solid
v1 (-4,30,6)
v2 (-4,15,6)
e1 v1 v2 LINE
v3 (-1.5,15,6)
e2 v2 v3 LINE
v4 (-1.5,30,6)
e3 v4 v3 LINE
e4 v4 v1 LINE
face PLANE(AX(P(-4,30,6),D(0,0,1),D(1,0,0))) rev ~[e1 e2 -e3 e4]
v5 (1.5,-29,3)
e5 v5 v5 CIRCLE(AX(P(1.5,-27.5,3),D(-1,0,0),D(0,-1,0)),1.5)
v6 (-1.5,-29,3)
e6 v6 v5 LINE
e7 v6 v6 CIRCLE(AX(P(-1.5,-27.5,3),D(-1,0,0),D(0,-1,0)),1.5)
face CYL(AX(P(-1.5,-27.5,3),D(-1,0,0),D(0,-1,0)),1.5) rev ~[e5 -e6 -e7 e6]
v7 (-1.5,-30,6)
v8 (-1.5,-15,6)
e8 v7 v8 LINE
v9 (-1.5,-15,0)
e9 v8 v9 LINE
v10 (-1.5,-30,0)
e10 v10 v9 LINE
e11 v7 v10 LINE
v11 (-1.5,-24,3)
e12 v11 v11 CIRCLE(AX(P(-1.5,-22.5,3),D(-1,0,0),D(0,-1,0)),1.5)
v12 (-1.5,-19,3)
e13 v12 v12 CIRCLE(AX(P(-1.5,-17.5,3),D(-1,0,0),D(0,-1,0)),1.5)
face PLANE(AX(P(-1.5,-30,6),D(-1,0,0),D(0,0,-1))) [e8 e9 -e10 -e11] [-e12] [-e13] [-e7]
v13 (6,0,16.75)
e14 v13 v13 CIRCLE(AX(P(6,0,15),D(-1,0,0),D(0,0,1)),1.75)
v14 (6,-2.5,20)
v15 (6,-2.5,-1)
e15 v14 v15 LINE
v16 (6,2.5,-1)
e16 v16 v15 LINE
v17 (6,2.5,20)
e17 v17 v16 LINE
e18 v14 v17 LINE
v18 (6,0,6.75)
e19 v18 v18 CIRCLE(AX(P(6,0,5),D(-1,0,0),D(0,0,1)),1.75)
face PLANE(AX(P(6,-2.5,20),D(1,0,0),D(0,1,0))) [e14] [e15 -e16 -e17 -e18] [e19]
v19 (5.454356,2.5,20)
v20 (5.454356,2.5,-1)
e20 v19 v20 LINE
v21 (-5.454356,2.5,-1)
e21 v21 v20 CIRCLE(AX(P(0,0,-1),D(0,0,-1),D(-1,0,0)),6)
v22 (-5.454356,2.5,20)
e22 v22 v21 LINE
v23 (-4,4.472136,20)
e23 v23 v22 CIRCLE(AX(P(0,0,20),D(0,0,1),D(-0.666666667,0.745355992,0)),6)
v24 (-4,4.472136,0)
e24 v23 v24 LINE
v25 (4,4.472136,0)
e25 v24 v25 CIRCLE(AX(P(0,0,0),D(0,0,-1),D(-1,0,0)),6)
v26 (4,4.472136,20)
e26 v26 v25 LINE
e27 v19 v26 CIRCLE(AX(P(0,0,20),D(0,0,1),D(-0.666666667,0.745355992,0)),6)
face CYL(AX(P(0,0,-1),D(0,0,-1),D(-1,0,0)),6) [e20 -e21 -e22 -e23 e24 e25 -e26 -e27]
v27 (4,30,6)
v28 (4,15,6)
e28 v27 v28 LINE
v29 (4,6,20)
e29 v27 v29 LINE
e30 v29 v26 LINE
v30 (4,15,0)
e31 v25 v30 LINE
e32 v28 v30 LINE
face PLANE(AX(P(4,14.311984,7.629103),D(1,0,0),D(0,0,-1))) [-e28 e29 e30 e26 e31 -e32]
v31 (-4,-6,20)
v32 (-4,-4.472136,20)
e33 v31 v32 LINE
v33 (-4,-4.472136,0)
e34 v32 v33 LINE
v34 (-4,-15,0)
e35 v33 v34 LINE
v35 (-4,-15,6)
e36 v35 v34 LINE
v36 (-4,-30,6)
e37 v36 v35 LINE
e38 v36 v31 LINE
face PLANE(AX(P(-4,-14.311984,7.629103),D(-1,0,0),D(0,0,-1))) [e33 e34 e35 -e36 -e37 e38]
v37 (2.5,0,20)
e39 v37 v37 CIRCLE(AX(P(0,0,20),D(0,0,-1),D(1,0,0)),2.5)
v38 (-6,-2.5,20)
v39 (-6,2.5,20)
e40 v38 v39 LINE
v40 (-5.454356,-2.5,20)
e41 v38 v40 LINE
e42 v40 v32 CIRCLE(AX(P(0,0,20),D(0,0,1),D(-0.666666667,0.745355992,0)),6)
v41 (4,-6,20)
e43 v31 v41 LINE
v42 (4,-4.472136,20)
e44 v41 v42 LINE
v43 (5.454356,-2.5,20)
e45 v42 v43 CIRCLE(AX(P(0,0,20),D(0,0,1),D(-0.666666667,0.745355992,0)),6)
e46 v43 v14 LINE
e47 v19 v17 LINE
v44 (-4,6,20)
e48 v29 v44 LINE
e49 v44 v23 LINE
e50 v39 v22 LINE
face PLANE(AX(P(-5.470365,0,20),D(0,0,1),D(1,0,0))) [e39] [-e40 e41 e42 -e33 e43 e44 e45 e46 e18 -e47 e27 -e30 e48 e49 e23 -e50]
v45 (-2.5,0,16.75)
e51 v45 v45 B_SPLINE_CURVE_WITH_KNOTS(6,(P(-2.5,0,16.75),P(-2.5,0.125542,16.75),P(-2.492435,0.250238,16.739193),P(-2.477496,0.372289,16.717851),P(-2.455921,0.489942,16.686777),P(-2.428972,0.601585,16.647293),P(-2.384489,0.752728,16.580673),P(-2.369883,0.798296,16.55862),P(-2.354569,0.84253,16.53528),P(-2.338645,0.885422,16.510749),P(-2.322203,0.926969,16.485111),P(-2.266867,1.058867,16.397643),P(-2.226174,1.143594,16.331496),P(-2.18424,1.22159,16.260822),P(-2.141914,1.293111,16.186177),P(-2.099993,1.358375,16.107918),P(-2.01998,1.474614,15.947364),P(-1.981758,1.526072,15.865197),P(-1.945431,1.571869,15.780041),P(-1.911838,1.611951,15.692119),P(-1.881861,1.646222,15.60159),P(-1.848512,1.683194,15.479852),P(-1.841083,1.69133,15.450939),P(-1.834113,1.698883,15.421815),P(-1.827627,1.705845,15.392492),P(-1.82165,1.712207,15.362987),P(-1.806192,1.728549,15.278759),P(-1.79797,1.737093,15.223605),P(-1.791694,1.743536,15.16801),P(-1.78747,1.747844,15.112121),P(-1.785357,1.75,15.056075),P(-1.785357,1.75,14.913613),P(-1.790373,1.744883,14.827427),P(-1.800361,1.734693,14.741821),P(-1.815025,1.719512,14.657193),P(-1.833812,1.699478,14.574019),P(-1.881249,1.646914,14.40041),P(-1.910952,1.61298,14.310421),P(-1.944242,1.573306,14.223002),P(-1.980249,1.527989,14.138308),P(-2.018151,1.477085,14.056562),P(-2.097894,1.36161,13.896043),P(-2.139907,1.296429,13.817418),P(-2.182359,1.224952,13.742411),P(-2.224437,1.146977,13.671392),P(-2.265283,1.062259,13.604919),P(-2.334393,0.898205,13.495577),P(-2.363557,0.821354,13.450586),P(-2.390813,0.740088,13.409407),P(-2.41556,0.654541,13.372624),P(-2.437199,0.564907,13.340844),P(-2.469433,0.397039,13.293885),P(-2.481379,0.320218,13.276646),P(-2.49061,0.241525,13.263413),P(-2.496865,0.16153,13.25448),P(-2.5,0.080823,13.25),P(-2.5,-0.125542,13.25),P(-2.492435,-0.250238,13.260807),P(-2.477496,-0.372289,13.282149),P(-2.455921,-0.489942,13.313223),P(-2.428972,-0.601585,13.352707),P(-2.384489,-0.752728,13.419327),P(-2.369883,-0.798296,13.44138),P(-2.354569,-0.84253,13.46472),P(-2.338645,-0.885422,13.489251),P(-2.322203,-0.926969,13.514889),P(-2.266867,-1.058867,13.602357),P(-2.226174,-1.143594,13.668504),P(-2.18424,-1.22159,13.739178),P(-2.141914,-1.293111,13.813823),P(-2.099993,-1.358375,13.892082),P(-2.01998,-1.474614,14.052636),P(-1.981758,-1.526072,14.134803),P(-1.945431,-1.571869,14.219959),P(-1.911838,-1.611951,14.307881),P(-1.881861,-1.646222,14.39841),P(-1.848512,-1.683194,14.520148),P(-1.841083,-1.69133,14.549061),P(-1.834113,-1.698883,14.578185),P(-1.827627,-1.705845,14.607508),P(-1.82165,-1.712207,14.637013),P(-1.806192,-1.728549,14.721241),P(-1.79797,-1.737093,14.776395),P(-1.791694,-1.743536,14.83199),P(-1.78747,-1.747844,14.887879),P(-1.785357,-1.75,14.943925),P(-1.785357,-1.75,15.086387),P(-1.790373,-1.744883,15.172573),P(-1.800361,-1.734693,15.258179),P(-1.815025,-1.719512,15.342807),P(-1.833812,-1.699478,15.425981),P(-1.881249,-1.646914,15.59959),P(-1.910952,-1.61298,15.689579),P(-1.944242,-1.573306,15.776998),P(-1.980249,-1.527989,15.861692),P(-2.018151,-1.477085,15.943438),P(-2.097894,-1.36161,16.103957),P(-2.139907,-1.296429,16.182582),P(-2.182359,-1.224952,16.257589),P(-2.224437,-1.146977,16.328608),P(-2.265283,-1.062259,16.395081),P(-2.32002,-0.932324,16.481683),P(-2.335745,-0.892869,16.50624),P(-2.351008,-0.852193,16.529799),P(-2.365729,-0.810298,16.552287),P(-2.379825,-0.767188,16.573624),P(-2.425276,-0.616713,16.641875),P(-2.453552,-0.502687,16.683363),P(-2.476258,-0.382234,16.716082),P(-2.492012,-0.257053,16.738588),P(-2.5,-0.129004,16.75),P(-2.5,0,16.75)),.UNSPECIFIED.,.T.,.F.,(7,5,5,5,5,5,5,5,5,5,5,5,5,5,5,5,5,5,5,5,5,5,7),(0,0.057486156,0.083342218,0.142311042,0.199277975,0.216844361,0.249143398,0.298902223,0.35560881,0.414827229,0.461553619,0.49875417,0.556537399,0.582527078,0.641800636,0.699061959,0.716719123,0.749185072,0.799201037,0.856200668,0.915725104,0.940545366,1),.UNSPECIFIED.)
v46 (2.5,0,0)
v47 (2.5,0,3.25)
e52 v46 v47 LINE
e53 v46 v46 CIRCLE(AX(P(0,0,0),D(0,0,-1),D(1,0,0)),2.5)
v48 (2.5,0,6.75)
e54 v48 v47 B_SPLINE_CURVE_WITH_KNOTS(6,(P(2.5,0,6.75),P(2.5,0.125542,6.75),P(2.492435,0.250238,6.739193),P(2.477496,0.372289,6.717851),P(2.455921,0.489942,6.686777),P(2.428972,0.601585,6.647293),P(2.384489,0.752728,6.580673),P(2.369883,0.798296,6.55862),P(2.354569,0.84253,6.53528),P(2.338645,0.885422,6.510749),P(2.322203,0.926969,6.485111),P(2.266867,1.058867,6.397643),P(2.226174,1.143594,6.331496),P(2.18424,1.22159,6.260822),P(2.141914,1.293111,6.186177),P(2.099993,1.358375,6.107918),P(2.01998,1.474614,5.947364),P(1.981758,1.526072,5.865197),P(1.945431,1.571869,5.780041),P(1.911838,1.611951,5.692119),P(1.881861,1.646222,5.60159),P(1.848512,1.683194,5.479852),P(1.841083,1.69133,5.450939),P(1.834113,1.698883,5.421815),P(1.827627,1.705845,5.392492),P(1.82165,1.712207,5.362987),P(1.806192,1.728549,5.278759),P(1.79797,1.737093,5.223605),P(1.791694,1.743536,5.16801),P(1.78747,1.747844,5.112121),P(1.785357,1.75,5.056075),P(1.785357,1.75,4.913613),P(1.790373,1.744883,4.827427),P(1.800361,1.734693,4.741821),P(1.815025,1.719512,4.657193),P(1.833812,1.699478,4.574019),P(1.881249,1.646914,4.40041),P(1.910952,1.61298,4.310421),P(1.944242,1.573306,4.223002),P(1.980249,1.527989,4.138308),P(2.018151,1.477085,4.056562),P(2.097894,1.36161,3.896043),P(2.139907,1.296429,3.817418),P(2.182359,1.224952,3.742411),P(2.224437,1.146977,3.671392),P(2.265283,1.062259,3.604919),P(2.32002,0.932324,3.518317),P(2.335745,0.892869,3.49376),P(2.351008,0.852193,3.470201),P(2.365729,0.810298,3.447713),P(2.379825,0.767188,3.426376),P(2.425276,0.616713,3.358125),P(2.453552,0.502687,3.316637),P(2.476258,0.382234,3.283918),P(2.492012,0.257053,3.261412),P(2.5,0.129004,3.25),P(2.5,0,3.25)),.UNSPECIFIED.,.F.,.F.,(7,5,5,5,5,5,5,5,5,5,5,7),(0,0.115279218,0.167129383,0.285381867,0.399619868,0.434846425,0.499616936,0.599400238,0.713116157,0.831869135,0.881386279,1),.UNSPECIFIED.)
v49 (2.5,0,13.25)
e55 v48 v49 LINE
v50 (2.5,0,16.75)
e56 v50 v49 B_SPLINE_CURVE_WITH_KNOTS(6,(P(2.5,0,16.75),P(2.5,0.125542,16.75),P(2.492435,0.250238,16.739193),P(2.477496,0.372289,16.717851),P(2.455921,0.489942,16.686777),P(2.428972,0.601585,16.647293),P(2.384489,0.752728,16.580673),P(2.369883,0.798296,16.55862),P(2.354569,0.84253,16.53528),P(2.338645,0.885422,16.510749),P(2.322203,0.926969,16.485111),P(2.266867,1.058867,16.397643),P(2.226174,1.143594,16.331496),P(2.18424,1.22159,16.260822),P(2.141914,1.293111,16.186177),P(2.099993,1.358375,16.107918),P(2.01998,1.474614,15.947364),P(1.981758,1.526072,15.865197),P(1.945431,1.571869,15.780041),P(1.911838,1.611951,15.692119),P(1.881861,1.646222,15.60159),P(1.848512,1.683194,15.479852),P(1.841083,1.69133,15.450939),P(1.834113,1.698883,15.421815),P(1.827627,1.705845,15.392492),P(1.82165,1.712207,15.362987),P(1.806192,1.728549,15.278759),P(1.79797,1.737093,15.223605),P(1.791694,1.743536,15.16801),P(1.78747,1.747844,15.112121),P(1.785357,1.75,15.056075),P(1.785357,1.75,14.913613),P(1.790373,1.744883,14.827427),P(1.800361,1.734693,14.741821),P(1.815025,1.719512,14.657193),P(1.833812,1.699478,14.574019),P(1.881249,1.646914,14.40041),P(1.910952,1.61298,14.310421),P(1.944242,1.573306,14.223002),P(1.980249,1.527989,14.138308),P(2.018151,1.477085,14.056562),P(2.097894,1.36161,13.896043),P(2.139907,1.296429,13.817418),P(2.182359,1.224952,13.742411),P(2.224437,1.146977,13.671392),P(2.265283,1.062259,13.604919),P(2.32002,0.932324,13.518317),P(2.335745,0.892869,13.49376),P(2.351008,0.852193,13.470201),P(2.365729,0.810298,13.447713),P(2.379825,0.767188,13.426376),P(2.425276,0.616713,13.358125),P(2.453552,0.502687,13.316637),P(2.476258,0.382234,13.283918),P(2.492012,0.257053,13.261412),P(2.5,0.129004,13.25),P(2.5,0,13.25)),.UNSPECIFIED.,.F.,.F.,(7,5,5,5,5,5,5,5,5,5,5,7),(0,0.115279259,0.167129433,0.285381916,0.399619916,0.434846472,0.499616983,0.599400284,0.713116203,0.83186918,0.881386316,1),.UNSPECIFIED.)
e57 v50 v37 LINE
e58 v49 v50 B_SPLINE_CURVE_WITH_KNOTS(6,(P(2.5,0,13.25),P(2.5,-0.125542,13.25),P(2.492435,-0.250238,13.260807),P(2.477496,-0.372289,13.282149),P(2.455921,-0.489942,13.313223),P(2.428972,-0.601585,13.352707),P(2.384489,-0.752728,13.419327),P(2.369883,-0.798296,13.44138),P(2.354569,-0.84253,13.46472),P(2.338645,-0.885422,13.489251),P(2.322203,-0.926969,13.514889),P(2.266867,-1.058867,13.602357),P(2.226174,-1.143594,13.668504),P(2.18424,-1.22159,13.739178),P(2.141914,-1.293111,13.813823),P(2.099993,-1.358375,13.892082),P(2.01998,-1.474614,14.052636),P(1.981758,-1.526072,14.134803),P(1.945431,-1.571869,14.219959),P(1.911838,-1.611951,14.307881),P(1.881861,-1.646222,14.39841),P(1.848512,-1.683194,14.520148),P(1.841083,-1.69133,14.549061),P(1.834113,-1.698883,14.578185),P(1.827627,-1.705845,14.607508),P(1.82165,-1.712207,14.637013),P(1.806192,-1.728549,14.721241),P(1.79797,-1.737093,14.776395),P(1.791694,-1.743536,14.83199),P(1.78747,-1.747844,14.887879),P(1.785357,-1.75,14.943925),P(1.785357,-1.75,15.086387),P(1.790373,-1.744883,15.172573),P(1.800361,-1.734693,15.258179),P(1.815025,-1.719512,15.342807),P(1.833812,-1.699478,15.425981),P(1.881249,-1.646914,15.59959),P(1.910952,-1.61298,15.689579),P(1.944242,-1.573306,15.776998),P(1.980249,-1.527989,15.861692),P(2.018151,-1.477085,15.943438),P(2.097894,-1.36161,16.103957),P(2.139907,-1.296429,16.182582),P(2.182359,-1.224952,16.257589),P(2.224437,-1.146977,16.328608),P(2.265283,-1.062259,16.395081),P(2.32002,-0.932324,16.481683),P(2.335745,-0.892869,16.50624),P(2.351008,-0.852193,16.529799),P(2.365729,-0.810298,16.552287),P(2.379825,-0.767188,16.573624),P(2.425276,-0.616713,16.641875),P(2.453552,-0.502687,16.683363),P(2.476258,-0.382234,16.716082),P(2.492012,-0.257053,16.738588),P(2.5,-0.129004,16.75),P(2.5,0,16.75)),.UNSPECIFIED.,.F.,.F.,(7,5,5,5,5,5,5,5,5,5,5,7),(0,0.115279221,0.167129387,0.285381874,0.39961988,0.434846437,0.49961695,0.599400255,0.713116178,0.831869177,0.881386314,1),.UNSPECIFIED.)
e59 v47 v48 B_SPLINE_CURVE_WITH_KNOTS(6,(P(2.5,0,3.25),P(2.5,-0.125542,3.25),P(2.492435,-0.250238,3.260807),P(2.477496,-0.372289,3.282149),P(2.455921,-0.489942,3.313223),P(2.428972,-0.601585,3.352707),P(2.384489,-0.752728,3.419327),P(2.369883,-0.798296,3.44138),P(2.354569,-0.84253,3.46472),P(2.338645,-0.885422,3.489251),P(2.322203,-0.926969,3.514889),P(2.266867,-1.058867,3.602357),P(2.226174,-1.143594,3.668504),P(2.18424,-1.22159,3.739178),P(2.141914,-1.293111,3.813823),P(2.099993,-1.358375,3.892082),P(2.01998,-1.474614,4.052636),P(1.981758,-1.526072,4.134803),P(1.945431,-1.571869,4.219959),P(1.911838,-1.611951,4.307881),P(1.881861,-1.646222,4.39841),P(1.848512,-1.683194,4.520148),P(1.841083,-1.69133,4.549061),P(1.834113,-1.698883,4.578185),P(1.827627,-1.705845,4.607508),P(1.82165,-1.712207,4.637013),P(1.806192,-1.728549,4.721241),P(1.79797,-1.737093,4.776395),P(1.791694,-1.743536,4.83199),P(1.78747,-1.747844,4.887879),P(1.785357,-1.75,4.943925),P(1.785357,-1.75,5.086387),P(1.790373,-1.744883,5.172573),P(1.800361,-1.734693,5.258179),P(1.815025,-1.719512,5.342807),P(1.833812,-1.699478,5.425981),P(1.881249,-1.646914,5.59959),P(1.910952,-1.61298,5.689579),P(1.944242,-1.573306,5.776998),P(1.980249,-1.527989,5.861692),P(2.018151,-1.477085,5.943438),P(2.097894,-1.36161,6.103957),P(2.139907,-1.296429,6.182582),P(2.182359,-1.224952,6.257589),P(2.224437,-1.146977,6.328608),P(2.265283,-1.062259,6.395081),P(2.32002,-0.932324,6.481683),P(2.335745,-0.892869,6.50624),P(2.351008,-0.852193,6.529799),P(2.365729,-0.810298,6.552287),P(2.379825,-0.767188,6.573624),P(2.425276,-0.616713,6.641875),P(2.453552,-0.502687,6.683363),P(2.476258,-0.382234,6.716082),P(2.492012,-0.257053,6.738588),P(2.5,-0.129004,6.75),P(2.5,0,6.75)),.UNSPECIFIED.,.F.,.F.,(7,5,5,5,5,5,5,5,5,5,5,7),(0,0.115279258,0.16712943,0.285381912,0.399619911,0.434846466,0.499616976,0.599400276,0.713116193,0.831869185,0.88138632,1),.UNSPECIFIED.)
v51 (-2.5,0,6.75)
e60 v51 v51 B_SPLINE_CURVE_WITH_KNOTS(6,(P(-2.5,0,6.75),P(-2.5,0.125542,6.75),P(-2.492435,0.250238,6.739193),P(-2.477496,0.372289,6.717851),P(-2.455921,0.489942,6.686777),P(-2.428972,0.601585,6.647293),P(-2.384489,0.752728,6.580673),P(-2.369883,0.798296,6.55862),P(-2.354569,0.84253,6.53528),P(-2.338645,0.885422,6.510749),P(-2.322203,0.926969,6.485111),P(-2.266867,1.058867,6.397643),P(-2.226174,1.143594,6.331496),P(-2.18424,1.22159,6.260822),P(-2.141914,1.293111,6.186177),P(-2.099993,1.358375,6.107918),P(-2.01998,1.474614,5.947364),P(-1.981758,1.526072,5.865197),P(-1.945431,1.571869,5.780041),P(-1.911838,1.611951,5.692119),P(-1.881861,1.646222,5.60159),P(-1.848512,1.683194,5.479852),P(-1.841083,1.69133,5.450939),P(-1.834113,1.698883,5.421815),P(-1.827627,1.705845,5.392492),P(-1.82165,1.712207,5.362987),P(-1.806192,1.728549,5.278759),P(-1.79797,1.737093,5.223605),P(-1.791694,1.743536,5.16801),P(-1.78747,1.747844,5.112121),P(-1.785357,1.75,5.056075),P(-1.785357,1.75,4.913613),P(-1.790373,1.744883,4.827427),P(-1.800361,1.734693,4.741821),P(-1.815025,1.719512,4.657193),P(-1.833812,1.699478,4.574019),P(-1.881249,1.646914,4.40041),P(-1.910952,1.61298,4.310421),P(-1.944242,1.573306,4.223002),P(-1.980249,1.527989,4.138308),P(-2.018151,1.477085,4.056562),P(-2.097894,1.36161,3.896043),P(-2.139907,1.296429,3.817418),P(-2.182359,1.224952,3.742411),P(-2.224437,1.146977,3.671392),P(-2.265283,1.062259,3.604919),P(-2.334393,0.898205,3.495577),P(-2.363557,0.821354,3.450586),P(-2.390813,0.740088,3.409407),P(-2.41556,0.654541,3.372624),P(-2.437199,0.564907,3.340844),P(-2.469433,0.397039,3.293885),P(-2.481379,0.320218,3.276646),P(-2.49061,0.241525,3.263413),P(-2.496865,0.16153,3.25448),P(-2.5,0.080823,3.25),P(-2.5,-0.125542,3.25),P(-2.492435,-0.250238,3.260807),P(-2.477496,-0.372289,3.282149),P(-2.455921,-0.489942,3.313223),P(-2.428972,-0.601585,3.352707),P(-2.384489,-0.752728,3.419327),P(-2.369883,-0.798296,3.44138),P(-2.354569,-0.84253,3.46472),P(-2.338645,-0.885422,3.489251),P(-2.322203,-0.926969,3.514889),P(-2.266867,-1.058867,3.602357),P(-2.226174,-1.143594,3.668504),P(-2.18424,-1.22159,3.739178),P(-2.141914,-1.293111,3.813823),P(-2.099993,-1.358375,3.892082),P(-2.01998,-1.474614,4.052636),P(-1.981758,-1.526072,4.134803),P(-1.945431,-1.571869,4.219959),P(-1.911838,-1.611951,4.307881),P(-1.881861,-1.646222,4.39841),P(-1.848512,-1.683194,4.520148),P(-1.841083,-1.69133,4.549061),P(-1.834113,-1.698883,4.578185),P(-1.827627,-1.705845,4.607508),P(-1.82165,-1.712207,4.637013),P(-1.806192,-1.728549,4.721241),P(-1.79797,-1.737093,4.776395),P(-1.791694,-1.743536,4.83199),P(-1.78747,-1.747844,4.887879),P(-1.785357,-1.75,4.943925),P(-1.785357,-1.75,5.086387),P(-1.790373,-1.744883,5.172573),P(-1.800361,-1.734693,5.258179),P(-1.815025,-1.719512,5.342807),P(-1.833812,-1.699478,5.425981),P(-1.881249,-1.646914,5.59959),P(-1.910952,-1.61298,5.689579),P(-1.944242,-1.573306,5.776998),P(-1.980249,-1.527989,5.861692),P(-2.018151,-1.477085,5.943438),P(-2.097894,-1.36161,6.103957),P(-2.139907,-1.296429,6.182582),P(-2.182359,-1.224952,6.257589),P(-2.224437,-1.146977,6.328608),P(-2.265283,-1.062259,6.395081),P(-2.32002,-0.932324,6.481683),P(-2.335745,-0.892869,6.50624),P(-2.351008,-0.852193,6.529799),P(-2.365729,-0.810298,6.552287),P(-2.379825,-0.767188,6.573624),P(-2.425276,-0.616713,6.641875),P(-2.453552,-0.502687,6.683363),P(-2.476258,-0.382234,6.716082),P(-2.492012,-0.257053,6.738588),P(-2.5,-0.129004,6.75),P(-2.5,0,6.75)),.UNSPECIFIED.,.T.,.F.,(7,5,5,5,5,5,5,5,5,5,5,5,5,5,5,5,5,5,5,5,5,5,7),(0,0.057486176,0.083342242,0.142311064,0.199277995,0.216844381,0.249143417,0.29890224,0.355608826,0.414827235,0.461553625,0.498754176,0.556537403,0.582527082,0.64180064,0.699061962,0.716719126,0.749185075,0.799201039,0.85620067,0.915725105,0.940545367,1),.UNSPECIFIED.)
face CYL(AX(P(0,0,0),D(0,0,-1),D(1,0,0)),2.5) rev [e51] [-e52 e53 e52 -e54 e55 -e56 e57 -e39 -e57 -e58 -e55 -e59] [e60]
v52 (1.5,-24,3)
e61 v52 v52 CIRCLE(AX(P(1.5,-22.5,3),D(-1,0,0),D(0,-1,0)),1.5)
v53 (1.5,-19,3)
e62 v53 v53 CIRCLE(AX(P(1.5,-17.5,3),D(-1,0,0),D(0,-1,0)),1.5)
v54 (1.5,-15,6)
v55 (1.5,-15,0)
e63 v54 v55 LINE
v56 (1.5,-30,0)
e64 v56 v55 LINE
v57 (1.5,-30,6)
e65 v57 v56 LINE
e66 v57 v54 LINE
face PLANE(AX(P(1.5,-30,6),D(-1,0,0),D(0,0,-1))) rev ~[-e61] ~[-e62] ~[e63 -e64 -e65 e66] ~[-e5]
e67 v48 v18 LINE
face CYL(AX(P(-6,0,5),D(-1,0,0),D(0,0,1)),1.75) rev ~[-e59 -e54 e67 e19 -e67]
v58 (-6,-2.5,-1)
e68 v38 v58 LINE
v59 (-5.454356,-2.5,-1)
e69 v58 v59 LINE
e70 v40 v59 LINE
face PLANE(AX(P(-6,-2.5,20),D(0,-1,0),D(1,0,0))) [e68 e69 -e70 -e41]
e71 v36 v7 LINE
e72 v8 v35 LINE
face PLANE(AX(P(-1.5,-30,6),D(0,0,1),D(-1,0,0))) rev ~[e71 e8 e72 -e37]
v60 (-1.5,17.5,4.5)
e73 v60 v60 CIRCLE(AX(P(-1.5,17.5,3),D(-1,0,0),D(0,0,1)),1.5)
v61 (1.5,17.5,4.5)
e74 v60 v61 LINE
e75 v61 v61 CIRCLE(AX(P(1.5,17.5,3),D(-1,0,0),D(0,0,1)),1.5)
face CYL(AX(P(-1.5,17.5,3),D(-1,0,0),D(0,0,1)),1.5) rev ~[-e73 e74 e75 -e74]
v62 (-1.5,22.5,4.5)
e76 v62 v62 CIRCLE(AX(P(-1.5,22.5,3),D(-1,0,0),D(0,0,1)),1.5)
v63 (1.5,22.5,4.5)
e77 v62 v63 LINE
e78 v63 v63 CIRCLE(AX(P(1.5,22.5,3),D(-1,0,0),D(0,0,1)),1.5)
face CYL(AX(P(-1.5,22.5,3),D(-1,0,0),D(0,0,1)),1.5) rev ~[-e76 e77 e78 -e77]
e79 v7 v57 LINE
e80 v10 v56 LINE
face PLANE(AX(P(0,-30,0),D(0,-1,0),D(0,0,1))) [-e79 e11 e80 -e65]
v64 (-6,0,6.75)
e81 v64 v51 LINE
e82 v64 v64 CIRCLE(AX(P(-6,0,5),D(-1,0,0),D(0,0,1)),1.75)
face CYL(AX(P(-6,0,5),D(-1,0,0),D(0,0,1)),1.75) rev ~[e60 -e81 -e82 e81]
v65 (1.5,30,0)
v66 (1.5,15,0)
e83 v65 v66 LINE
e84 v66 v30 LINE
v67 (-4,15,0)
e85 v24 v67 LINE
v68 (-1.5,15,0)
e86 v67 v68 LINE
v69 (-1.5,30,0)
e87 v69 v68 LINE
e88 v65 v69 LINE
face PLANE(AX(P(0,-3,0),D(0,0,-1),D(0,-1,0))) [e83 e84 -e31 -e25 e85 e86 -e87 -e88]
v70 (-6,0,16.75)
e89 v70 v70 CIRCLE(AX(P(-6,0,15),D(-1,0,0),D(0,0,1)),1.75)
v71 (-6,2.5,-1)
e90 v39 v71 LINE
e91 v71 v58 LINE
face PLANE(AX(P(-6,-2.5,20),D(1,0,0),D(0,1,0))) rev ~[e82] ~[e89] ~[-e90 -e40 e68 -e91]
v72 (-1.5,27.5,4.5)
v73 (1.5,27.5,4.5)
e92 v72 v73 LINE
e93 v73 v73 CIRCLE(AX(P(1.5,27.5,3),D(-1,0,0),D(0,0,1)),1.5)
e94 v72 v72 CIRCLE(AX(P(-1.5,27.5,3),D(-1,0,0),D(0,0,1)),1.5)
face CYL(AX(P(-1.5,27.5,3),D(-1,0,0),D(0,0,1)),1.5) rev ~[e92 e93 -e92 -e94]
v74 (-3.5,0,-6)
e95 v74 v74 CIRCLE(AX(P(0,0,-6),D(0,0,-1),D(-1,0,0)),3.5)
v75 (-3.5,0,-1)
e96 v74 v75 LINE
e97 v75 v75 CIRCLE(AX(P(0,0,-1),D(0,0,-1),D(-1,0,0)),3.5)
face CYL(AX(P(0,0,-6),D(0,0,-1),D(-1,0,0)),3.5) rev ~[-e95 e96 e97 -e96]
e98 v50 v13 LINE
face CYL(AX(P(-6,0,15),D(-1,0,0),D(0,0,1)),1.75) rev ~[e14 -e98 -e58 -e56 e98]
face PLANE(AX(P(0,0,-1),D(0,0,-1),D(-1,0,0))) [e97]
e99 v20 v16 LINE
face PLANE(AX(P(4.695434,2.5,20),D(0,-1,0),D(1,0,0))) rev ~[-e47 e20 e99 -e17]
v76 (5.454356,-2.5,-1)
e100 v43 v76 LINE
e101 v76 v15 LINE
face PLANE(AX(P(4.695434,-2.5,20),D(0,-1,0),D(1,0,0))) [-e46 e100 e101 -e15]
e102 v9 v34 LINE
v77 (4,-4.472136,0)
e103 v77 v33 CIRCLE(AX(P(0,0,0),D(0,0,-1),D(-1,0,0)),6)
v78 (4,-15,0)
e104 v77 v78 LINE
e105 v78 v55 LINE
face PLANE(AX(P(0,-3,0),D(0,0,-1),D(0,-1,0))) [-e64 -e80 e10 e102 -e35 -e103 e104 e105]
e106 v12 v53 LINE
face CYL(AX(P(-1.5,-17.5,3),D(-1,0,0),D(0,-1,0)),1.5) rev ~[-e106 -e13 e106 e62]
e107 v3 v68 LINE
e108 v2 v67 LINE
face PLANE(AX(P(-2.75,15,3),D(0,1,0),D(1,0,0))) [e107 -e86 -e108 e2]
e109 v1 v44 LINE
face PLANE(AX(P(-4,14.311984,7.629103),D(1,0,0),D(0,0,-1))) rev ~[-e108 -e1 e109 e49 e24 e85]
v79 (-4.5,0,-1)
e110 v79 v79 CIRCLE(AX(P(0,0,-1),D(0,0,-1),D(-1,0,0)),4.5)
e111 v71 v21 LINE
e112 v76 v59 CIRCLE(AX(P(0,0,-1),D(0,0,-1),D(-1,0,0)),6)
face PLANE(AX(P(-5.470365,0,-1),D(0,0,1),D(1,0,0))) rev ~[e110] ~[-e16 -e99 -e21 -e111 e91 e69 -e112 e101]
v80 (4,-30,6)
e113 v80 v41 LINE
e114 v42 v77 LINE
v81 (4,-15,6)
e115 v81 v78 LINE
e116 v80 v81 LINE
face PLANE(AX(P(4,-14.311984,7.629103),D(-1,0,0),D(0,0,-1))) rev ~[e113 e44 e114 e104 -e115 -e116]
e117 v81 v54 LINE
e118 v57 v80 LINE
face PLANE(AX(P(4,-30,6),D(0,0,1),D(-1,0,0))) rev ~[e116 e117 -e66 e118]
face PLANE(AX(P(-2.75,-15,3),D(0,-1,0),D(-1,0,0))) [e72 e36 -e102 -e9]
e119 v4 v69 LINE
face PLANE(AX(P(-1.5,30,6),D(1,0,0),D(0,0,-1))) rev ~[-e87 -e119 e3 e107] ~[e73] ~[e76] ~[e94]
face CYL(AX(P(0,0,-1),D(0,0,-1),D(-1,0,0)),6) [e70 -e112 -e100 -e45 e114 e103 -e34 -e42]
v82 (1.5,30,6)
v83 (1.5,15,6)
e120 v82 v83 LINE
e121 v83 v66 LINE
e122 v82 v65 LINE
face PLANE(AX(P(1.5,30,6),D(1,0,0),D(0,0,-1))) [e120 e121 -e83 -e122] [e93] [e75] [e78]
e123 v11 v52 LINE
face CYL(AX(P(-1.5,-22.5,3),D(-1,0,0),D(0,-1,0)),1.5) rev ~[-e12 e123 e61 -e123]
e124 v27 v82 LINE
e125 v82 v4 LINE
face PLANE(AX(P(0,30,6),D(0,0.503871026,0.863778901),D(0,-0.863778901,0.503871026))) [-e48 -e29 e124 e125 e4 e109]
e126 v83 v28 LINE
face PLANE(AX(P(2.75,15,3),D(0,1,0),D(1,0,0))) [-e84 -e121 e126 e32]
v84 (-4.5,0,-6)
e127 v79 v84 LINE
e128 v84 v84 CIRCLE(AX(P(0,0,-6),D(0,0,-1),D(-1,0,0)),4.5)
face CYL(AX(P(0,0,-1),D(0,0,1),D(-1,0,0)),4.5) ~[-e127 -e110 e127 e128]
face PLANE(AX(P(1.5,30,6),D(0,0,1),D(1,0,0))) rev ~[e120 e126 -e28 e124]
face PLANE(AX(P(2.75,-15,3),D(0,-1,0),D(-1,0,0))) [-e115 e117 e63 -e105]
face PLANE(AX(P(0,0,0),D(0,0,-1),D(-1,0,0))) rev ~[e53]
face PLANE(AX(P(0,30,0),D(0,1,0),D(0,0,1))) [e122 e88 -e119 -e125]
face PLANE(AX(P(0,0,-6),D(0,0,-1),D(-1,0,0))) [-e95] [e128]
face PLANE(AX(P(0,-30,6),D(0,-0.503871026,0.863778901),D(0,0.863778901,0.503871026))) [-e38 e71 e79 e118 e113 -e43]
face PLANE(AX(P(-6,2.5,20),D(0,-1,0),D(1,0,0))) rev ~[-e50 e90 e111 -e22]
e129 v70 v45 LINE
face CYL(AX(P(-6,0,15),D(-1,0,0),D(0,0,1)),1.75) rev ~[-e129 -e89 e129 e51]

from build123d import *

# Parameters (mm, degrees)
SKETCH1_R             = 6
SKETCH1_R_2           = 2.5
BOSS_EXTRUDE1_DEPTH   = 20
BOSS_EXTRUDE2_DEPTH   = 4
SKETCH3_W             = 2.5
SKETCH3_H             = 6
CUT_EXTRUDE1_DEPTH    = 15
BODY_MOVE_COPY1_ANGLE = 180
BOSS_EXTRUDE3_START   = 1
SKETCH4_R             = 6
BOSS_EXTRUDE3_DEPTH   = 1
SKETCH5_R             = 4.5
BOSS_EXTRUDE4_DEPTH   = 5
SKETCH6_R             = 3.5
CUT_EXTRUDE2_DEPTH    = 5
SKETCH7_W             = 1.05927087
SKETCH7_H             = 5
SKETCH7_W_2           = 1.30456568
BOSS_EXTRUDE5_DEPTH   = 21
SKETCH8_R             = 1.75
CUT_EXTRUDE3_DEPTH    = 39
SKETCH9_R             = 1.5
CUT_EXTRUDE4_DEPTH    = 37.827299731
SKETCH11_R            = 1.5
CUT_EXTRUDE5_DEPTH    = 37.827299731


with BuildPart() as part:
    # Sketch1 → Boss-Extrude1 (new body)
    with BuildSketch(Plane.XY):
        Circle(SKETCH1_R)
        Circle(SKETCH1_R_2, mode=Mode.SUBTRACT)
    extrude(amount=BOSS_EXTRUDE1_DEPTH)

    # Sketch2 → Boss-Extrude2 (add, symmetric)
    with BuildSketch(Plane(origin=(0, 0, 0), x_dir=(0, 0, -1), z_dir=(1, 0, 0))):
        Polygon((-20, 6), (-20, 3), (0, 3), (0, 30), (-6, 30), align=None)
    extrude(amount=BOSS_EXTRUDE2_DEPTH, both=True)

    # Sketch3 → Cut-Extrude1 (cut)
    with BuildSketch(Plane(origin=(0, 30, 0), x_dir=(1, 0, 0), z_dir=(0, 1, 0))):
        with Locations((-2.75, -3)):
            Rectangle(SKETCH3_W, SKETCH3_H)
        with Locations((2.75, -3)):
            Rectangle(SKETCH3_W, SKETCH3_H)
    extrude(amount=-CUT_EXTRUDE1_DEPTH, mode=Mode.SUBTRACT)


with BuildPart() as body_2:
    # Body-Move/Copy1: copy of part
    add(part.part.rotate(Axis((0, 0, 0), (0, 0, 1)), BODY_MOVE_COPY1_ANGLE))


with BuildPart() as part_1:
    add(part.part)

    add(body_2.part)  # Boss-Extrude3 merges body 2
    # Sketch4 → Boss-Extrude3 (add)
    with BuildSketch(Plane(origin=(0, 0, 0), x_dir=(-1, 0, 0), z_dir=(0, 0, -1)).offset(BOSS_EXTRUDE3_START)):
        Circle(SKETCH4_R)
    extrude(amount=-BOSS_EXTRUDE3_DEPTH)

    # Sketch5 → Boss-Extrude4 (add)
    with BuildSketch(Plane(origin=(0, 0, -1), x_dir=(-1, 0, 0), z_dir=(0, 0, -1))):
        Circle(SKETCH5_R)
    extrude(amount=BOSS_EXTRUDE4_DEPTH)

    # Sketch6 → Cut-Extrude2 (cut)
    with BuildSketch(Plane(origin=(0, 0, -6), x_dir=(-1, 0, 0), z_dir=(0, 0, -1))):
        Circle(SKETCH6_R)
    extrude(amount=-CUT_EXTRUDE2_DEPTH, mode=Mode.SUBTRACT)

    # Sketch7 → Boss-Extrude5 (add)
    with BuildSketch(Plane.XY.offset(20)):
        with Locations((-5.470364565, 0)):
            Rectangle(SKETCH7_W, SKETCH7_H)
        with Locations((5.34771716, 0)):
            Rectangle(SKETCH7_W_2, SKETCH7_H)
    extrude(amount=-BOSS_EXTRUDE5_DEPTH)

    # Sketch8 → Cut-Extrude3 (cut, through all)
    with BuildSketch(Plane.ZY.offset(6)):
        with Locations((5, 0)):
            Circle(SKETCH8_R)
        with Locations((15, 0)):
            Circle(SKETCH8_R)
    extrude(amount=-CUT_EXTRUDE3_DEPTH, mode=Mode.SUBTRACT)

    # Sketch9 → Cut-Extrude4 (cut, through all)
    with BuildSketch(Plane.ZY.offset(1.5)):
        with Locations((3, 17.5)):
            Circle(SKETCH9_R)
        with Locations((3, 22.5)):
            Circle(SKETCH9_R)
        with Locations((3, 27.5)):
            Circle(SKETCH9_R)
    extrude(amount=-CUT_EXTRUDE4_DEPTH, mode=Mode.SUBTRACT)

    # Sketch11 → Cut-Extrude5 (cut, through all)
    with BuildSketch(Plane.ZY.offset(1.5)):
        with Locations(Location((3, -17.5, 0), (0, 0, 270))):
            Circle(SKETCH11_R)
        with Locations(Location((3, -22.5, 0), (0, 0, 270))):
            Circle(SKETCH11_R)
        with Locations(Location((3, -27.5, 0), (0, 0, 270))):
            Circle(SKETCH11_R)
    extrude(amount=-CUT_EXTRUDE5_DEPTH, mode=Mode.SUBTRACT)


solid = part_1.part
